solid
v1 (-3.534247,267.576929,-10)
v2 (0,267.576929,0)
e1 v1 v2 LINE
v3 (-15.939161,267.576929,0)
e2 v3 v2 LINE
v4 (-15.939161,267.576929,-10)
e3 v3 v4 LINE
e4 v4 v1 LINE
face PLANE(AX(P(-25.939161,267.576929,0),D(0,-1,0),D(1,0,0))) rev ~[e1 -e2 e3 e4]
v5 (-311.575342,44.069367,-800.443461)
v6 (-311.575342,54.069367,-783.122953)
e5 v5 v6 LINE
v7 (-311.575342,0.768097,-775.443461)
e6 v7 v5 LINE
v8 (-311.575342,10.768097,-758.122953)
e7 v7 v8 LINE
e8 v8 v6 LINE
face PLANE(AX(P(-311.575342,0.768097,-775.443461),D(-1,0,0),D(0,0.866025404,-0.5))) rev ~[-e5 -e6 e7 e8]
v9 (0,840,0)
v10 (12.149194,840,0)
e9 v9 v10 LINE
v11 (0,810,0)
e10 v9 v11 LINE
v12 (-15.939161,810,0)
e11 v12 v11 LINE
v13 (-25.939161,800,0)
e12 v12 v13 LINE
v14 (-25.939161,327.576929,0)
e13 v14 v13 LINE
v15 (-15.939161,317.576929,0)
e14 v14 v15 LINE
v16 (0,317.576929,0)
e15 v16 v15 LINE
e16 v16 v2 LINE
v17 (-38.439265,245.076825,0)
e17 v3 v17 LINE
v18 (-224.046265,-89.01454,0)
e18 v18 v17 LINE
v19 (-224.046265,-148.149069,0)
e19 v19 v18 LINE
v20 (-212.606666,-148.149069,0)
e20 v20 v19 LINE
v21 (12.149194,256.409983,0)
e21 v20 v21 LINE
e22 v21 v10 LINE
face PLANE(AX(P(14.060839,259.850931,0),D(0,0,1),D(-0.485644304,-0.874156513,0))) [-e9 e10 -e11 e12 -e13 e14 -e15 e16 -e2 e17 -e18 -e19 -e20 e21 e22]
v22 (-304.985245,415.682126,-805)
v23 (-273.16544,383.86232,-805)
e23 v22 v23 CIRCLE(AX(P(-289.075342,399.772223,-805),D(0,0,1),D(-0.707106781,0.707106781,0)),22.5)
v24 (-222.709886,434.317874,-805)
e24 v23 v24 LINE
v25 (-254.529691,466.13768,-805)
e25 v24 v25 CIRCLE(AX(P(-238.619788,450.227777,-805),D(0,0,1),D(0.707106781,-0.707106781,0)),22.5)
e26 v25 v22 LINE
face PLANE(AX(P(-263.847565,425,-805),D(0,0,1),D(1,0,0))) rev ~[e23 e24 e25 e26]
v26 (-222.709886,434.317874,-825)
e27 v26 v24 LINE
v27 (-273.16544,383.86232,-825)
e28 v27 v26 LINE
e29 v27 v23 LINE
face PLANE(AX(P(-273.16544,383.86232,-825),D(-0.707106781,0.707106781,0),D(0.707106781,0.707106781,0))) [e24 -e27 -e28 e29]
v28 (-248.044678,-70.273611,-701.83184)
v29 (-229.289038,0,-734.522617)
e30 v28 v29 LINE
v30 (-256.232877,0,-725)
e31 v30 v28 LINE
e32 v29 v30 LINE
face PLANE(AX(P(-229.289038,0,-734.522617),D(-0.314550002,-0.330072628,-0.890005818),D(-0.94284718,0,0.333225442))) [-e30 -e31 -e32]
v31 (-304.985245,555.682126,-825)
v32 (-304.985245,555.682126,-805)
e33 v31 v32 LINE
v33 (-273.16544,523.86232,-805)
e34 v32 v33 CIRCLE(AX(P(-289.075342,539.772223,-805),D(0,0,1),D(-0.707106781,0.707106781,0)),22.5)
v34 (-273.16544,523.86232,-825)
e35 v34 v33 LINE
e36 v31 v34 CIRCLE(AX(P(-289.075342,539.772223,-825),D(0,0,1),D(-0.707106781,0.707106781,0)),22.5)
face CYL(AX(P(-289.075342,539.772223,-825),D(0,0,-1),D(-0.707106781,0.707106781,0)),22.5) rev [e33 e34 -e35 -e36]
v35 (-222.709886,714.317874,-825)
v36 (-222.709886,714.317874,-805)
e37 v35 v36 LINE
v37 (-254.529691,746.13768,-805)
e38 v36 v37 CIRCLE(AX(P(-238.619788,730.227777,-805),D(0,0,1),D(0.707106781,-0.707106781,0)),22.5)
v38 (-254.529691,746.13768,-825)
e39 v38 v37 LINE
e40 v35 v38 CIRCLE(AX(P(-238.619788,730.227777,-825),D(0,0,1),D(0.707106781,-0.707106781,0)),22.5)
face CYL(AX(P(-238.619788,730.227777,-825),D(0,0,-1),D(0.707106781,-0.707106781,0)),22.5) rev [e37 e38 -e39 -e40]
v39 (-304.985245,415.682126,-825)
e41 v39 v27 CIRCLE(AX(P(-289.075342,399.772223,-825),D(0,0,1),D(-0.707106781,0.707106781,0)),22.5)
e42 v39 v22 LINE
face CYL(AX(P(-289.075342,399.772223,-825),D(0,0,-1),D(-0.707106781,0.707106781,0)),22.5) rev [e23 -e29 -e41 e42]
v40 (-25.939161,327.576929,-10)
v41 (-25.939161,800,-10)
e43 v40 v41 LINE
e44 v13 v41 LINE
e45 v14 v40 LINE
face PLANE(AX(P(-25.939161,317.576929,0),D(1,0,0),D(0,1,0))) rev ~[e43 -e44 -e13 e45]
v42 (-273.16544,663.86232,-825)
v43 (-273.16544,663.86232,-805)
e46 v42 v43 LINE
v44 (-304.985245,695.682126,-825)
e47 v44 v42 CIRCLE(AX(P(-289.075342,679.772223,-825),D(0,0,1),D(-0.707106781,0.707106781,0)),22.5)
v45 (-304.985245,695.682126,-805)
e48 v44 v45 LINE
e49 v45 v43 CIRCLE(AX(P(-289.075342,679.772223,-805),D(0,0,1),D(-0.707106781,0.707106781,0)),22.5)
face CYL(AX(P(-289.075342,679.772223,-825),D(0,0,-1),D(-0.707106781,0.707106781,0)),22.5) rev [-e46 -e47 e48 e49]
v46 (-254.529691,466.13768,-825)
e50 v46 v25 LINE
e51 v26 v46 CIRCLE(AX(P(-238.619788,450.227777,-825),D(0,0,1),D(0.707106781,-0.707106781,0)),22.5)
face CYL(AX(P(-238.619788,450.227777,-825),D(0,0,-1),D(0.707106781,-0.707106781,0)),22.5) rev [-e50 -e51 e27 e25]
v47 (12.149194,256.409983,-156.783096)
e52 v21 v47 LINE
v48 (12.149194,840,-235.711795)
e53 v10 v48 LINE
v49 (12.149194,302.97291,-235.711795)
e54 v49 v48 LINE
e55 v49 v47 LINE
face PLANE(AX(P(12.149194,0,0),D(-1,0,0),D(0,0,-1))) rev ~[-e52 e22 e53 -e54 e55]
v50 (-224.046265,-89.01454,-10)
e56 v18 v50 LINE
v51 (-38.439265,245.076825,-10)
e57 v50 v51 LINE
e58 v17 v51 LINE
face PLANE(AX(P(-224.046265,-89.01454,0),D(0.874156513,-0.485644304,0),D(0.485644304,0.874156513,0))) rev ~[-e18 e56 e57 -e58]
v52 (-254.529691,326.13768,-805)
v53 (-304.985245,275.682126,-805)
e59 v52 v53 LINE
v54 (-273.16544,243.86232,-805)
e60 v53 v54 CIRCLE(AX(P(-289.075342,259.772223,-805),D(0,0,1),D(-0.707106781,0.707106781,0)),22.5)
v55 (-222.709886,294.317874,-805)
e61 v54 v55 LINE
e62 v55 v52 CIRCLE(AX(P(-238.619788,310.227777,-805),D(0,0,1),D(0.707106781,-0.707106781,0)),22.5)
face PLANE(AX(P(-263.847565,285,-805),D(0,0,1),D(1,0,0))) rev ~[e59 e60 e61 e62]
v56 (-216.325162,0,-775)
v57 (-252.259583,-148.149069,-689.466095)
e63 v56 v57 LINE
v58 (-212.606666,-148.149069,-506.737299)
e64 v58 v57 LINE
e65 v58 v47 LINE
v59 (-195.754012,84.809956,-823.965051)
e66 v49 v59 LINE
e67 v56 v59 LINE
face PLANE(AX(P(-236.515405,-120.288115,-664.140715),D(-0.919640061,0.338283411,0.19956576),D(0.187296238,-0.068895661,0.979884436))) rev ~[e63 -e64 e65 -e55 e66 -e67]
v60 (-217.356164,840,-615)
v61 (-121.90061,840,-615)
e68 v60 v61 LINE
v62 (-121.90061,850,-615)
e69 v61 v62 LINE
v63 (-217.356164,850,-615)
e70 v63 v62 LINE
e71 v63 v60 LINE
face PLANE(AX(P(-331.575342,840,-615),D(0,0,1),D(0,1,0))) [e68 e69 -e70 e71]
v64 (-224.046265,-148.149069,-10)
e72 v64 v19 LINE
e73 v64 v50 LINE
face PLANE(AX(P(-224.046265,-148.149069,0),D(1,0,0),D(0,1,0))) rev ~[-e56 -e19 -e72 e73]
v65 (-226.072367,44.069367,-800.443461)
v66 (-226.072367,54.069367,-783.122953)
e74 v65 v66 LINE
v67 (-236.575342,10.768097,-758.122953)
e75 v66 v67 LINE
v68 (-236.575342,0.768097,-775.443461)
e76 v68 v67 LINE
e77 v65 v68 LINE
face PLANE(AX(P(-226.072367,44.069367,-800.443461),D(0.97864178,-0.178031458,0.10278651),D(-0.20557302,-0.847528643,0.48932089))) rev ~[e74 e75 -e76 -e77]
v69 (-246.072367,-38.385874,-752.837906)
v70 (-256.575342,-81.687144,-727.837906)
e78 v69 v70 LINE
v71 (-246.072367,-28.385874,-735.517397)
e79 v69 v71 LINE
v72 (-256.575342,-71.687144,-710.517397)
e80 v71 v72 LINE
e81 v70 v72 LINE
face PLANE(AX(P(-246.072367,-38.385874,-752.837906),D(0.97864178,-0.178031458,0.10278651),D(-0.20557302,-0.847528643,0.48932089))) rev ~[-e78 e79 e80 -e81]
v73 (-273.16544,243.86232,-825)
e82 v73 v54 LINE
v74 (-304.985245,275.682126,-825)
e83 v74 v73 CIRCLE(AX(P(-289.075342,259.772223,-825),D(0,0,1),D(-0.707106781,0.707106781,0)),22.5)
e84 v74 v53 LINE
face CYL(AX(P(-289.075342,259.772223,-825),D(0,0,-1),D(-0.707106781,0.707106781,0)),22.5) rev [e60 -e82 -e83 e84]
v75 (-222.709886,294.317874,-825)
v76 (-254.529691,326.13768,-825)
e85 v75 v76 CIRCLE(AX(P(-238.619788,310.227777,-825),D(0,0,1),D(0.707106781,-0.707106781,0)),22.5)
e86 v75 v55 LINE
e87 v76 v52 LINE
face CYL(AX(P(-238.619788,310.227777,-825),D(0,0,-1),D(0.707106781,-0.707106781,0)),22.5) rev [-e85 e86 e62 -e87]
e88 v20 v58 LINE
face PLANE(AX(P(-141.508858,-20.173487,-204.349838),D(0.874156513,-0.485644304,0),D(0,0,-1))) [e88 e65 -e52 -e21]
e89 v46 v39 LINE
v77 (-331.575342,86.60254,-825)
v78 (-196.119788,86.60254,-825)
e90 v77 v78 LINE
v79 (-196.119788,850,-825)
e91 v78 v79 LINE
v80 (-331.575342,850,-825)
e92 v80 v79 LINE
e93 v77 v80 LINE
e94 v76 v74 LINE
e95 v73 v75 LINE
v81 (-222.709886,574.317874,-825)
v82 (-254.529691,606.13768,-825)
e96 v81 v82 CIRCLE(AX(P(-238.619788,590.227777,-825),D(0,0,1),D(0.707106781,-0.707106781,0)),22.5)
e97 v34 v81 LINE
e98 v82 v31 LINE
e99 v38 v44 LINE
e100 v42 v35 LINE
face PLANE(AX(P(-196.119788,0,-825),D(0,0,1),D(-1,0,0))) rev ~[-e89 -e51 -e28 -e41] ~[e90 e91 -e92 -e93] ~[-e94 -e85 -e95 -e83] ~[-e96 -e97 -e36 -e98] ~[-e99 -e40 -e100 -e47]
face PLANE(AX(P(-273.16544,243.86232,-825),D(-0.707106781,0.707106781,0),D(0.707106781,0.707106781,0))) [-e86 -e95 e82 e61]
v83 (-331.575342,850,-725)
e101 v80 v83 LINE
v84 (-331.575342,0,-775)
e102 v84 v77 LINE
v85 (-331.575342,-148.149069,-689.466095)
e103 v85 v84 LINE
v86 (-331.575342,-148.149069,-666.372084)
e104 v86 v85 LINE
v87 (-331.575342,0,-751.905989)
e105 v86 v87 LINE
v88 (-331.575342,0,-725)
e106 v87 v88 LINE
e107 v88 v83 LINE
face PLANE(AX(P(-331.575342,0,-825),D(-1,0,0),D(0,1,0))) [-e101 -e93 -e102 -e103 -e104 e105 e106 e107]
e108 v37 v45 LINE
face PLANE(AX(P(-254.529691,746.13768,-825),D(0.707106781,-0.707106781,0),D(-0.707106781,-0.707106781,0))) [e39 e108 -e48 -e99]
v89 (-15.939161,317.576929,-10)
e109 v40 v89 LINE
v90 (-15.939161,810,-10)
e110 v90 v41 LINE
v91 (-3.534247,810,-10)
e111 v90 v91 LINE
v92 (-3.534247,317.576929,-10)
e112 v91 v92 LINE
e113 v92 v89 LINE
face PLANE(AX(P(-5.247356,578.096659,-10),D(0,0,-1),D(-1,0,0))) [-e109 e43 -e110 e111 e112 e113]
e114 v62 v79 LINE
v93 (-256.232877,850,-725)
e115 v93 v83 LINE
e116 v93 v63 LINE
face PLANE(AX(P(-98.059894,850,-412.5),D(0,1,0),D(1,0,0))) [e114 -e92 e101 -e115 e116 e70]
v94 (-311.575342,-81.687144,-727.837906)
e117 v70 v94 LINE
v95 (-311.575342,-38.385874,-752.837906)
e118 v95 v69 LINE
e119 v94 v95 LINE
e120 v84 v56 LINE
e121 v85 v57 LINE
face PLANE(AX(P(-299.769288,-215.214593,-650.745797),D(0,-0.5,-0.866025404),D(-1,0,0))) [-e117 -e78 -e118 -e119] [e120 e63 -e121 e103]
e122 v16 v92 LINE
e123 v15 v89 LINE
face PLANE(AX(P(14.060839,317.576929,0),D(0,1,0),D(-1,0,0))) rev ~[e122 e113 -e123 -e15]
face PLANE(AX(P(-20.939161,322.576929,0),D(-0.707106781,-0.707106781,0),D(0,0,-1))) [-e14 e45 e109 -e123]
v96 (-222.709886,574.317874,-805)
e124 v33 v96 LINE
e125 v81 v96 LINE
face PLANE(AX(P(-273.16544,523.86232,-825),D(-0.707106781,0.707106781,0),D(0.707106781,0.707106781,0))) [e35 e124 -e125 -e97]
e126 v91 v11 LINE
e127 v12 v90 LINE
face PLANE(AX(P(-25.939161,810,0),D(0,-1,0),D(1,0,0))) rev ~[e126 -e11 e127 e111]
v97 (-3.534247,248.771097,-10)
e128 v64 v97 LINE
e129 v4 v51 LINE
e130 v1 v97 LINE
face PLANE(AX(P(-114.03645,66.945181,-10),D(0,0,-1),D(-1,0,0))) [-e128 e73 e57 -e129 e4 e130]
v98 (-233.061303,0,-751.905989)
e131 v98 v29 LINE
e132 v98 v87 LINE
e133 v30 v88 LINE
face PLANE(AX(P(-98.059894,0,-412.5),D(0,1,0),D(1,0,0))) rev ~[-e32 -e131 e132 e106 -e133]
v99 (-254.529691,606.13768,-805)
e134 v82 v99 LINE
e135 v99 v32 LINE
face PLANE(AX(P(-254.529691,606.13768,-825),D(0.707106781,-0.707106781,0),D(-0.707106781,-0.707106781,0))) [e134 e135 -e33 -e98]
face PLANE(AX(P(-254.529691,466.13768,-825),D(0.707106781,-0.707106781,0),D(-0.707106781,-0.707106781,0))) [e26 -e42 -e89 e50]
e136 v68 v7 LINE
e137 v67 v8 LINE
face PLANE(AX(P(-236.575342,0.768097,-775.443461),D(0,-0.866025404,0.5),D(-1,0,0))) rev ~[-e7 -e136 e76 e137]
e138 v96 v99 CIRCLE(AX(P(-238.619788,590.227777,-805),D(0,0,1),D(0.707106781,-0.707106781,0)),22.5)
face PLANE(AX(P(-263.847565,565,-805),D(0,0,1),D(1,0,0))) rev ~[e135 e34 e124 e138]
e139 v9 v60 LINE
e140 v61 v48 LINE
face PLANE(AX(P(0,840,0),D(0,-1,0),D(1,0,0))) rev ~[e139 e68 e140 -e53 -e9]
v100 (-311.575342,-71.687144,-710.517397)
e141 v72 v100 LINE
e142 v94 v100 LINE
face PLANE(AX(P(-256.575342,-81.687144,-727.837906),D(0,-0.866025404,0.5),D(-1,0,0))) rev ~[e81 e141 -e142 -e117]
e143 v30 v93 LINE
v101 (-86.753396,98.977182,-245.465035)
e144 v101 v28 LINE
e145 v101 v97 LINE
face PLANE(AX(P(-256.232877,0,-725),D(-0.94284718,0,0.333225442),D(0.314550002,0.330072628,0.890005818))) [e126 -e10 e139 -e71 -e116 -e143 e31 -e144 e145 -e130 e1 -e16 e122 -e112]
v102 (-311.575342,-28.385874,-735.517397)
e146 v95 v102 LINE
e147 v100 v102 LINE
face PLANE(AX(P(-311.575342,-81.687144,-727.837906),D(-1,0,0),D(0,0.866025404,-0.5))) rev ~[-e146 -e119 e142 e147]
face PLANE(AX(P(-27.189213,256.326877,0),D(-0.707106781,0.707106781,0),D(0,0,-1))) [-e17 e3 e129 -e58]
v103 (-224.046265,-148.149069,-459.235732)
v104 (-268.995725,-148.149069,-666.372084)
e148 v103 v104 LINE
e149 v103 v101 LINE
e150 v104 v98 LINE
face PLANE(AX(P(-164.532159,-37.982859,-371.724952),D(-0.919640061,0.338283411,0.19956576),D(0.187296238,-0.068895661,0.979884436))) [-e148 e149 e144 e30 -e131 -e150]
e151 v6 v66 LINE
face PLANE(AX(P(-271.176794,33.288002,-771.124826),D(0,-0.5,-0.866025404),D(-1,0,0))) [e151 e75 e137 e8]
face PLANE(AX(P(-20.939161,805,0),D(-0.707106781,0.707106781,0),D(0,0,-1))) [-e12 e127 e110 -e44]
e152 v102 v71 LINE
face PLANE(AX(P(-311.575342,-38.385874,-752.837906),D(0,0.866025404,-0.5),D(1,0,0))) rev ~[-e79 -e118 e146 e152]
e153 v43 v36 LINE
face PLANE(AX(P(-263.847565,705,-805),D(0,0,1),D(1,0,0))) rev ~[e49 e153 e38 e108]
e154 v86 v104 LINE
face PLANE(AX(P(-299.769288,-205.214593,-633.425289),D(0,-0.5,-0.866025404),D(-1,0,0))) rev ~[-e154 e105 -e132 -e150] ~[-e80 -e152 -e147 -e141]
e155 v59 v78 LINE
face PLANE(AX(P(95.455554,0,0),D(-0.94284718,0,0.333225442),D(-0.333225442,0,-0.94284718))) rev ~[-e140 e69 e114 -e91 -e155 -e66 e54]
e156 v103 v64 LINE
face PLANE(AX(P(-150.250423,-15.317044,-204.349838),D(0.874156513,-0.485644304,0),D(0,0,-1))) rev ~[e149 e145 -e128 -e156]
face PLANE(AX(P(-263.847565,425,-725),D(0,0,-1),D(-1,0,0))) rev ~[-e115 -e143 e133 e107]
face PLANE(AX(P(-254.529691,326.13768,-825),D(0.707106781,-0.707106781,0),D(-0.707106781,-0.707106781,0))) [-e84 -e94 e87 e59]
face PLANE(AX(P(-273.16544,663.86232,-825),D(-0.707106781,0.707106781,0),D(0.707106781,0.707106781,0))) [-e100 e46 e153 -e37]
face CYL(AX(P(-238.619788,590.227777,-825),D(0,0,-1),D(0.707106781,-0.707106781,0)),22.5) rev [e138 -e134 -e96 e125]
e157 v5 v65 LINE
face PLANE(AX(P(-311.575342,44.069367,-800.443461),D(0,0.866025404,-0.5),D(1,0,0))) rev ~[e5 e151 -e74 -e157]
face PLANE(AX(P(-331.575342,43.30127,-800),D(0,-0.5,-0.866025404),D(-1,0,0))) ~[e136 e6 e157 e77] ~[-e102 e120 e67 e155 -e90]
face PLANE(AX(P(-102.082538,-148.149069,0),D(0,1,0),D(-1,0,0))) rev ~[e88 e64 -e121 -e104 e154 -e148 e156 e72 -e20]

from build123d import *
from OCP.BRepFilletAPI import BRepFilletAPI_MakeChamfer

# Parameters (mm, degrees)
BOSS_EXTRU_2_DEPTH            = 850
ESQUISSE2_W                   = 135.455554094
ESQUISSE2_H                   = 850
BOSS_EXTRU_4_DEPTH            = 100
ESQUISSE7_W                   = 615
ESQUISSE7_H                   = 10
ENL_V_MAT_EXTRU_5_DEPTH       = 1260.158602645
ENL_V_MAT_EXTRU_6_DEPTH       = 1237.105055174
CHANFREIN1_SIZE               = 40
CHANFREIN1_SIZE2              = 104.203562588
CHANFREIN2_SIZE               = 50
CHANFREIN2_SIZE2              = 86.602540378
CHANFREIN3_SIZE               = 250
CHANFREIN3_SIZE2              = 81.394715296
ENL_V_MAT_EXTRU_9_DEPTH       = 20
BOSS_EXTRU_5_DEPTH            = 20
BOSS_EXTRU_6_DEPTH            = 20
BOSS_EXTRU_7_DEPTH            = 20
BOSS_EXTRU_8_REACH            = 1235.856
BOSS_EXTRU_14_REACH           = 1078.841
ENL_V_MAT_EXTRU_11_DEPTH      = 1231.067968745
ENL_V_MAT_EXTRU_11_DEPTH_BACK = 1231.067968745
ESQUISSE20_W                  = 36.798592216
ESQUISSE20_H                  = 35.835276246
ENL_V_MAT_EXTRU_10_DEPTH      = 1231.067968745
ENL_V_MAT_EXTRU_10_DEPTH_BACK = 1231.067968745
BOSS_EXTRU_15_DEPTH           = 10
ENL_V_MAT_EXTRU_12_DEPTH      = 1231.067968745
BOSS_EXTRU_17_DEPTH           = 10
ENL_V_MAT_EXTRU_13_DEPTH      = 10
CHANFREIN6_SIZE               = 10
CHANFREIN6_SIZE2              = 25.739216822
ENL_V_MAT_EXTRU_7_DEPTH       = 20
ESQUISSE28_W                  = 50.106872135
ESQUISSE28_H                  = 235.71179502
ENL_V_MAT_EXTRU_15_DEPTH      = 1231.067968745


with BuildPart() as part:
    # Esquisse1 → Boss.-Extru.2 (new body)
    with BuildSketch(Plane(origin=(0, 0, 0), x_dir=(1, 0, 0), z_dir=(0, 1, 0))):
        Polygon((0, 0), (95.455554093, 0), (-196.119788372, 825), (-291.575342466, 825), align=None)
    extrude(amount=BOSS_EXTRU_2_DEPTH)

    # Esquisse2 → Boss.-Extru.4 (add)
    with BuildSketch(Plane(origin=(0, 0, -825), x_dir=(-1, 0, 0), z_dir=(0, 0, -1))):
        with Locations((263.847565419, 425)):
            Rectangle(ESQUISSE2_W, ESQUISSE2_H)
    extrude(amount=-BOSS_EXTRU_4_DEPTH)

    # Esquisse7 → Enlèv. mat.-Extru.5 (cut, through all)
    with BuildSketch(Plane.ZY.offset(331.575342466)):
        with Locations((-307.5, 845)):
            Rectangle(ESQUISSE7_W, ESQUISSE7_H)
    extrude(amount=-ENL_V_MAT_EXTRU_5_DEPTH, mode=Mode.SUBTRACT)

    # Esquisse8 → Enlèv. mat.-Extru.6 (cut, through all)
    with BuildSketch(Plane(origin=(84.856246207, 0, -29.990289755), x_dir=(-0.3332254417270876, 0, -0.9428471800805194), z_dir=(0.9428471800805194, 0, -0.3332254417270876))):
        Polygon((-31.808219178, 280), (768.947519086, 0), (-31.808219178, 0), align=None)
    extrude(amount=-ENL_V_MAT_EXTRU_6_DEPTH, mode=Mode.SUBTRACT)

    # Chanfrein1
    chanfrein1_edges = [part.edges().sort_by_distance(p)[0] for p in [
        (-37.960538206, 140, -377.495144878),
    ]]
    chanfrein1_side = [part.faces().sort_by_distance(p)[0] for p in [
        (-82.734004125, 137.238189401, -370.048215647),
    ]]
    chamfer(chanfrein1_edges, length=CHANFREIN1_SIZE, length2=CHANFREIN1_SIZE2, reference=chanfrein1_side[0])

    # Chanfrein2
    chanfrein2_edges = [part.edges().sort_by_distance(p)[0] for p in [
        (-279.375357295, 0, -825),
    ]]
    chanfrein2_side = [part.faces().sort_by_distance(p)[0] for p in [
        (-275.691218494, 0, -775.06397156),
    ]]
    chamfer(chanfrein2_edges, length=CHANFREIN2_SIZE, length2=CHANFREIN2_SIZE2, reference=chanfrein2_side[0])

    # Chanfrein3
    chanfrein3_edges = [part.edges().sort_by_distance(p)[0] for p in [
        (95.455554093, 615.195164523, 0),
    ]]
    chanfrein3_side = [part.faces().sort_by_distance(p)[0] for p in [
        (-63.074276605, 533.547742021, -448.553396936),
    ]]
    chamfer(chanfrein3_edges, length=CHANFREIN3_SIZE, length2=CHANFREIN3_SIZE2, reference=chanfrein3_side[0])

    # Esquisse11 → Enlèv. mat.-Extru.9 (cut)
    with BuildSketch(Plane(origin=(0, 0, -825), x_dir=(-1, 0, 0), z_dir=(0, 0, -1))):
        with BuildLine():
            Line((273.165439889, 663.862320377), (222.709885796, 714.31787447))
            ThreePointArc((222.709885796, 714.31787447), (222.709885796, 746.137679623), (254.529690949, 746.137679623))
            Line((254.529690949, 746.137679623), (304.985245042, 695.68212553))
            ThreePointArc((304.985245042, 695.68212553), (304.985245042, 663.862320377), (273.165439889, 663.862320377))
        make_face()
        with BuildLine():
            Line((273.165439889, 523.862320377), (222.709885796, 574.31787447))
            ThreePointArc((222.709885796, 574.31787447), (222.709885796, 606.137679623), (254.529690949, 606.137679623))
            Line((254.529690949, 606.137679623), (304.985245042, 555.68212553))
            ThreePointArc((304.985245042, 555.68212553), (304.985245042, 523.862320377), (273.165439889, 523.862320377))
        make_face()
        with BuildLine():
            Line((273.165439889, 383.862320377), (222.709885796, 434.31787447))
            ThreePointArc((222.709885796, 434.31787447), (222.709885796, 466.137679623), (254.529690949, 466.137679623))
            Line((254.529690949, 466.137679623), (304.985245042, 415.68212553))
            ThreePointArc((304.985245042, 415.68212553), (304.985245042, 383.862320377), (273.165439889, 383.862320377))
        make_face()
        with BuildLine():
            Line((273.165439889, 243.862320377), (222.709885796, 294.31787447))
            ThreePointArc((222.709885796, 294.31787447), (222.709885796, 326.137679623), (254.529690949, 326.137679623))
            Line((254.529690949, 326.137679623), (304.985245042, 275.68212553))
            ThreePointArc((304.985245042, 275.68212553), (304.985245042, 243.862320377), (273.165439889, 243.862320377))
        make_face()
    extrude(amount=-ENL_V_MAT_EXTRU_9_DEPTH, mode=Mode.SUBTRACT)

    # Esquisse12 → Boss.-Extru.5 (add)
    with BuildSketch(Plane(origin=(-40.719657631, 14.978452192, 8.836336942), x_dir=(-0.1789623557208966, 0.09138543974154965, -0.9796025605509977), z_dir=(0.9196400605905344, -0.33828341108028354, -0.19956576045235425))):
        Polygon((758.2962151, -87.760898196), (129.510578012, 220.360980406), (128.5939647, -274.639019594), (551.387234827, -304.990440115), align=None)
    extrude(amount=-BOSS_EXTRU_5_DEPTH)

    # Esquisse13 → Boss.-Extru.6 (add)
    with BuildSketch(Plane(origin=(0, -335.584843966, -581.25), x_dir=(-1, 0, 0), z_dir=(0, -0.5000000000000013, -0.8660254037844379))):
        Polygon((331.575342466, 387.5), (216.325161863, 387.5), (331.575342466, -161.154885751), align=None)
    extrude(amount=-BOSS_EXTRU_6_DEPTH)

    # Esquisse14 → Boss.-Extru.7 (add)
    with BuildSketch(Plane(origin=(-40.719657631, 14.978452192, 8.836336942), x_dir=(0.18729623755068028, -0.06889566128781024, 0.9798844356632441), z_dir=(-0.9196400605905354, 0.33828341108028165, 0.19956576045235197))):
        Polygon((-558.543564559, -291.678140731), (-760.182954736, -69.548547185), (-765.904204326, -72.183872894), (-799.927326543, -74.681473645), (-671.74280044, -297.07939729), align=None)
    extrude(amount=BOSS_EXTRU_7_DEPTH)

    # Boss.-Extru.8: up to this face of the body (flat: up to its plane)
    boss_extru_8_end = Plane(part.part.faces().sort_by_distance((-164.532158793, -37.982859016, -371.724952169))[0])
    # Esquisse17 → Boss.-Extru.8 (add, up to the picked face)
    with BuildSketch(Plane(origin=(14.059914026, 0, -0.114027244), x_dir=(-0.008109828661301803, 0, -0.9999671147988239), z_dir=(0.999967114798824, 0, -0.008109828661301803)), mode=Mode.PRIVATE) as boss_extru_8_sk1:
        Polygon((0, 268.877630288), (0, -254.375489576), (124.880630316, -230.495880912), (112.743376241, 233.203159991), align=None)
    boss_extru_8_tool1 = split(extrude(boss_extru_8_sk1.sketch, amount=-BOSS_EXTRU_8_REACH, mode=Mode.PRIVATE), bisect_by=boss_extru_8_end, keep=Keep.BOTH, mode=Mode.PRIVATE)
    add(boss_extru_8_tool1.solids().sort_by(Axis((13.587491, -0.094835, -58.365221), (-0.999967114798824, 0, 0.008109828661301803)))[0])

    # Boss.-Extru.14: up to this face of the body (flat: up to its plane)
    boss_extru_14_end = Plane(part.part.faces().sort_by_distance((-146.671728248, -30.602018057, -301.931660273))[0])
    # Esquisse19 → Boss.-Extru.14 (add, up to the picked face)
    with BuildSketch(Plane(origin=(-27.916044034, 239.583966402, -78.987256375), x_dir=(-0.9939328490713287, -0.1044581087967751, 0.034438278754206304), z_dir=(0.1099885973042266, -0.9439555392983614, 0.31120804663599005)), mode=Mode.PRIVATE) as boss_extru_14_sk1:
        Polygon((-42.23311753, -84.700642173), (-41.849173409, -35.141174806), (202.602212611, 697.589071061), (229.71052108, 688.54527409), (-28.086448758, -84.187661354), align=None)
    boss_extru_14_tool1 = split(extrude(boss_extru_14_sk1.sketch, amount=BOSS_EXTRU_14_REACH, mode=Mode.PRIVATE), bisect_by=boss_extru_14_end, keep=Keep.BOTH, mode=Mode.PRIVATE)
    add(boss_extru_14_tool1.solids().sort_by(Axis((-116.11325, 133.026087, -371.027306), (0.1099885973042266, -0.9439555392983614, 0.31120804663599005)))[0])

    # Esquisse20 → Enlèv. mat.-Extru.11 (cut, two sides: drawn at the far end of the back side and taken through both)
    with BuildSketch(Plane(origin=(0, 0, 0), x_dir=(1, 0, 0), z_dir=(0, 1, 0)).offset(-ENL_V_MAT_EXTRU_11_DEPTH_BACK)):
        with Locations((-4.33845731, -17.917638123)):
            Rectangle(ESQUISSE20_W, ESQUISSE20_H)
    extrude(amount=ENL_V_MAT_EXTRU_11_DEPTH + ENL_V_MAT_EXTRU_11_DEPTH_BACK, mode=Mode.SUBTRACT)

    # Esquisse15 → Enlèv. mat.-Extru.10 (cut, two sides: drawn at the far end of the back side and taken through both)
    with BuildSketch(Plane.XY.offset(-ENL_V_MAT_EXTRU_10_DEPTH_BACK)):
        Polygon((-331.575342466, -190.149068971), (-331.575342466, -475.149068971), (14.059914026, -475.149068971), (14.059914026, -190.149068971), (55.846885337, -190.149068971), (55.846885337, 19.850931029), (55.846885337, 270.515982808), (14.060838798, 270.515982808), (14.060838798, 259.850931029), (-235.940085974, -190.149068971), align=None)
    extrude(amount=ENL_V_MAT_EXTRU_10_DEPTH + ENL_V_MAT_EXTRU_10_DEPTH_BACK, mode=Mode.SUBTRACT)

    # Esquisse21 → Boss.-Extru.15 (add)
    with BuildSketch(Plane(origin=(-99.569705588, 55.316707725, 0), x_dir=(0, 0, -1), z_dir=(0.8741565134833756, -0.4856443039247848, 0))):
        Polygon((321.424737861, -305.542159578), (543.068402305, -280.803005995), (155.773656423, 231.37758287), (0, 233.978950164), (0, 205.025992858), (0, -305.542159578), align=None)
    extrude(amount=-BOSS_EXTRU_15_DEPTH)

    # Esquisse23 → Enlèv. mat.-Extru.12 (cut, through all)
    with BuildSketch(Plane.XY):
        Polygon((-331.575342466, -190.149068971), (-331.575342466, -260.816411821), (-102.082537534, -260.816411821), (-102.082537534, -190.149068971), (-102.082537534, -148.149068971), (-331.575342466, -148.149068971), align=None)
    extrude(amount=-ENL_V_MAT_EXTRU_12_DEPTH, mode=Mode.SUBTRACT)

    # Esquisse26 → Boss.-Extru.17 (add)
    with BuildSketch(Plane.XY):
        Polygon((14.060838798, 810), (14.060838798, 317.576928865), (-25.939161202, 317.576928865), (-25.939161202, 810), (0, 810), (0, 840), (14.060838798, 840), align=None)
        Polygon((-25.939161202, 267.576928865), (14.060838798, 267.576928865), (12.797499589, 257.576928865), (-212.606666329, -148.149068971), (-224.046265355, -148.149068971), (-224.046265355, -89.014539546), align=None)
    extrude(amount=-BOSS_EXTRU_17_DEPTH)

    # Esquisse24 → Enlèv. mat.-Extru.13 (cut)
    with BuildSketch(Plane(origin=(14.059914026, 0, -0.114027244), x_dir=(-0.008109828661301803, 0, -0.9999671147988239), z_dir=(0.999967114798824, 0, -0.008109828661301803))):
        Polygon((-0.114030993, 259.850931029), (155.664748246, 257.576928865), (235.605515711, 302.972909907), (235.605515711, 840), (-0.114030993, 840), align=None)
    extrude(amount=ENL_V_MAT_EXTRU_13_DEPTH, mode=Mode.SUBTRACT)

    # Chanfrein6: one chamfer whose edges measure the first distance from different faces: ONE call of the kernel's chamfer builder (chamfer() names one face for all edges)
    chanfrein6_edges_1 = [part.edges().sort_by_distance(p)[0] for p in [
        (-25.939161202, 267.576928865, -5),
    ]]
    chanfrein6_side_1 = [part.faces().sort_by_distance(p)[0] for p in [
        (-13.831610998, 267.576928865, -4.878156509),
    ]]
    chanfrein6_edges_2 = [part.edges().sort_by_distance(p)[0] for p in [
        (-25.939161202, 810, -5),
        (-25.939161202, 317.576928865, -5),
    ]]
    chanfrein6 = BRepFilletAPI_MakeChamfer(part.part.solid().wrapped)
    for e in chanfrein6_edges_1:
        chanfrein6.Add(CHANFREIN6_SIZE, CHANFREIN6_SIZE2, e.wrapped, chanfrein6_side_1[0].wrapped)  # the first distance lies on this face
    for e in chanfrein6_edges_2:
        chanfrein6.Add(CHANFREIN6_SIZE, e.wrapped)
    add(Compound.cast(chanfrein6.Shape()), mode=Mode.REPLACE)

    # Esquisse9 → Enlèv. mat.-Extru.7 (cut)
    with BuildSketch(Plane(origin=(0, -335.584843966, -581.25), x_dir=(-1, 0, 0), z_dir=(0, -0.49999999999999656, -0.8660254037844407))):
        Polygon((311.575342466, 438.386921888), (226.072366588, 438.386921888), (236.575342466, 388.386921888), (311.575342466, 388.386921888), align=None)
        Polygon((311.575342466, 343.175811089), (246.072366588, 343.175811089), (256.575342466, 293.175811089), (311.575342466, 293.175811089), align=None)
    extrude(amount=-ENL_V_MAT_EXTRU_7_DEPTH, mode=Mode.SUBTRACT)

    # Esquisse28 → Enlèv. mat.-Extru.15 (cut, through all)
    with BuildSketch(Plane(origin=(0, 0, 0), x_dir=(1, 0, 0), z_dir=(0, 1, 0))):
        with Locations((37.20262973, 117.85589751)):
            Rectangle(ESQUISSE28_W, ESQUISSE28_H)
    extrude(amount=ENL_V_MAT_EXTRU_15_DEPTH, mode=Mode.SUBTRACT)


solid = part.part
